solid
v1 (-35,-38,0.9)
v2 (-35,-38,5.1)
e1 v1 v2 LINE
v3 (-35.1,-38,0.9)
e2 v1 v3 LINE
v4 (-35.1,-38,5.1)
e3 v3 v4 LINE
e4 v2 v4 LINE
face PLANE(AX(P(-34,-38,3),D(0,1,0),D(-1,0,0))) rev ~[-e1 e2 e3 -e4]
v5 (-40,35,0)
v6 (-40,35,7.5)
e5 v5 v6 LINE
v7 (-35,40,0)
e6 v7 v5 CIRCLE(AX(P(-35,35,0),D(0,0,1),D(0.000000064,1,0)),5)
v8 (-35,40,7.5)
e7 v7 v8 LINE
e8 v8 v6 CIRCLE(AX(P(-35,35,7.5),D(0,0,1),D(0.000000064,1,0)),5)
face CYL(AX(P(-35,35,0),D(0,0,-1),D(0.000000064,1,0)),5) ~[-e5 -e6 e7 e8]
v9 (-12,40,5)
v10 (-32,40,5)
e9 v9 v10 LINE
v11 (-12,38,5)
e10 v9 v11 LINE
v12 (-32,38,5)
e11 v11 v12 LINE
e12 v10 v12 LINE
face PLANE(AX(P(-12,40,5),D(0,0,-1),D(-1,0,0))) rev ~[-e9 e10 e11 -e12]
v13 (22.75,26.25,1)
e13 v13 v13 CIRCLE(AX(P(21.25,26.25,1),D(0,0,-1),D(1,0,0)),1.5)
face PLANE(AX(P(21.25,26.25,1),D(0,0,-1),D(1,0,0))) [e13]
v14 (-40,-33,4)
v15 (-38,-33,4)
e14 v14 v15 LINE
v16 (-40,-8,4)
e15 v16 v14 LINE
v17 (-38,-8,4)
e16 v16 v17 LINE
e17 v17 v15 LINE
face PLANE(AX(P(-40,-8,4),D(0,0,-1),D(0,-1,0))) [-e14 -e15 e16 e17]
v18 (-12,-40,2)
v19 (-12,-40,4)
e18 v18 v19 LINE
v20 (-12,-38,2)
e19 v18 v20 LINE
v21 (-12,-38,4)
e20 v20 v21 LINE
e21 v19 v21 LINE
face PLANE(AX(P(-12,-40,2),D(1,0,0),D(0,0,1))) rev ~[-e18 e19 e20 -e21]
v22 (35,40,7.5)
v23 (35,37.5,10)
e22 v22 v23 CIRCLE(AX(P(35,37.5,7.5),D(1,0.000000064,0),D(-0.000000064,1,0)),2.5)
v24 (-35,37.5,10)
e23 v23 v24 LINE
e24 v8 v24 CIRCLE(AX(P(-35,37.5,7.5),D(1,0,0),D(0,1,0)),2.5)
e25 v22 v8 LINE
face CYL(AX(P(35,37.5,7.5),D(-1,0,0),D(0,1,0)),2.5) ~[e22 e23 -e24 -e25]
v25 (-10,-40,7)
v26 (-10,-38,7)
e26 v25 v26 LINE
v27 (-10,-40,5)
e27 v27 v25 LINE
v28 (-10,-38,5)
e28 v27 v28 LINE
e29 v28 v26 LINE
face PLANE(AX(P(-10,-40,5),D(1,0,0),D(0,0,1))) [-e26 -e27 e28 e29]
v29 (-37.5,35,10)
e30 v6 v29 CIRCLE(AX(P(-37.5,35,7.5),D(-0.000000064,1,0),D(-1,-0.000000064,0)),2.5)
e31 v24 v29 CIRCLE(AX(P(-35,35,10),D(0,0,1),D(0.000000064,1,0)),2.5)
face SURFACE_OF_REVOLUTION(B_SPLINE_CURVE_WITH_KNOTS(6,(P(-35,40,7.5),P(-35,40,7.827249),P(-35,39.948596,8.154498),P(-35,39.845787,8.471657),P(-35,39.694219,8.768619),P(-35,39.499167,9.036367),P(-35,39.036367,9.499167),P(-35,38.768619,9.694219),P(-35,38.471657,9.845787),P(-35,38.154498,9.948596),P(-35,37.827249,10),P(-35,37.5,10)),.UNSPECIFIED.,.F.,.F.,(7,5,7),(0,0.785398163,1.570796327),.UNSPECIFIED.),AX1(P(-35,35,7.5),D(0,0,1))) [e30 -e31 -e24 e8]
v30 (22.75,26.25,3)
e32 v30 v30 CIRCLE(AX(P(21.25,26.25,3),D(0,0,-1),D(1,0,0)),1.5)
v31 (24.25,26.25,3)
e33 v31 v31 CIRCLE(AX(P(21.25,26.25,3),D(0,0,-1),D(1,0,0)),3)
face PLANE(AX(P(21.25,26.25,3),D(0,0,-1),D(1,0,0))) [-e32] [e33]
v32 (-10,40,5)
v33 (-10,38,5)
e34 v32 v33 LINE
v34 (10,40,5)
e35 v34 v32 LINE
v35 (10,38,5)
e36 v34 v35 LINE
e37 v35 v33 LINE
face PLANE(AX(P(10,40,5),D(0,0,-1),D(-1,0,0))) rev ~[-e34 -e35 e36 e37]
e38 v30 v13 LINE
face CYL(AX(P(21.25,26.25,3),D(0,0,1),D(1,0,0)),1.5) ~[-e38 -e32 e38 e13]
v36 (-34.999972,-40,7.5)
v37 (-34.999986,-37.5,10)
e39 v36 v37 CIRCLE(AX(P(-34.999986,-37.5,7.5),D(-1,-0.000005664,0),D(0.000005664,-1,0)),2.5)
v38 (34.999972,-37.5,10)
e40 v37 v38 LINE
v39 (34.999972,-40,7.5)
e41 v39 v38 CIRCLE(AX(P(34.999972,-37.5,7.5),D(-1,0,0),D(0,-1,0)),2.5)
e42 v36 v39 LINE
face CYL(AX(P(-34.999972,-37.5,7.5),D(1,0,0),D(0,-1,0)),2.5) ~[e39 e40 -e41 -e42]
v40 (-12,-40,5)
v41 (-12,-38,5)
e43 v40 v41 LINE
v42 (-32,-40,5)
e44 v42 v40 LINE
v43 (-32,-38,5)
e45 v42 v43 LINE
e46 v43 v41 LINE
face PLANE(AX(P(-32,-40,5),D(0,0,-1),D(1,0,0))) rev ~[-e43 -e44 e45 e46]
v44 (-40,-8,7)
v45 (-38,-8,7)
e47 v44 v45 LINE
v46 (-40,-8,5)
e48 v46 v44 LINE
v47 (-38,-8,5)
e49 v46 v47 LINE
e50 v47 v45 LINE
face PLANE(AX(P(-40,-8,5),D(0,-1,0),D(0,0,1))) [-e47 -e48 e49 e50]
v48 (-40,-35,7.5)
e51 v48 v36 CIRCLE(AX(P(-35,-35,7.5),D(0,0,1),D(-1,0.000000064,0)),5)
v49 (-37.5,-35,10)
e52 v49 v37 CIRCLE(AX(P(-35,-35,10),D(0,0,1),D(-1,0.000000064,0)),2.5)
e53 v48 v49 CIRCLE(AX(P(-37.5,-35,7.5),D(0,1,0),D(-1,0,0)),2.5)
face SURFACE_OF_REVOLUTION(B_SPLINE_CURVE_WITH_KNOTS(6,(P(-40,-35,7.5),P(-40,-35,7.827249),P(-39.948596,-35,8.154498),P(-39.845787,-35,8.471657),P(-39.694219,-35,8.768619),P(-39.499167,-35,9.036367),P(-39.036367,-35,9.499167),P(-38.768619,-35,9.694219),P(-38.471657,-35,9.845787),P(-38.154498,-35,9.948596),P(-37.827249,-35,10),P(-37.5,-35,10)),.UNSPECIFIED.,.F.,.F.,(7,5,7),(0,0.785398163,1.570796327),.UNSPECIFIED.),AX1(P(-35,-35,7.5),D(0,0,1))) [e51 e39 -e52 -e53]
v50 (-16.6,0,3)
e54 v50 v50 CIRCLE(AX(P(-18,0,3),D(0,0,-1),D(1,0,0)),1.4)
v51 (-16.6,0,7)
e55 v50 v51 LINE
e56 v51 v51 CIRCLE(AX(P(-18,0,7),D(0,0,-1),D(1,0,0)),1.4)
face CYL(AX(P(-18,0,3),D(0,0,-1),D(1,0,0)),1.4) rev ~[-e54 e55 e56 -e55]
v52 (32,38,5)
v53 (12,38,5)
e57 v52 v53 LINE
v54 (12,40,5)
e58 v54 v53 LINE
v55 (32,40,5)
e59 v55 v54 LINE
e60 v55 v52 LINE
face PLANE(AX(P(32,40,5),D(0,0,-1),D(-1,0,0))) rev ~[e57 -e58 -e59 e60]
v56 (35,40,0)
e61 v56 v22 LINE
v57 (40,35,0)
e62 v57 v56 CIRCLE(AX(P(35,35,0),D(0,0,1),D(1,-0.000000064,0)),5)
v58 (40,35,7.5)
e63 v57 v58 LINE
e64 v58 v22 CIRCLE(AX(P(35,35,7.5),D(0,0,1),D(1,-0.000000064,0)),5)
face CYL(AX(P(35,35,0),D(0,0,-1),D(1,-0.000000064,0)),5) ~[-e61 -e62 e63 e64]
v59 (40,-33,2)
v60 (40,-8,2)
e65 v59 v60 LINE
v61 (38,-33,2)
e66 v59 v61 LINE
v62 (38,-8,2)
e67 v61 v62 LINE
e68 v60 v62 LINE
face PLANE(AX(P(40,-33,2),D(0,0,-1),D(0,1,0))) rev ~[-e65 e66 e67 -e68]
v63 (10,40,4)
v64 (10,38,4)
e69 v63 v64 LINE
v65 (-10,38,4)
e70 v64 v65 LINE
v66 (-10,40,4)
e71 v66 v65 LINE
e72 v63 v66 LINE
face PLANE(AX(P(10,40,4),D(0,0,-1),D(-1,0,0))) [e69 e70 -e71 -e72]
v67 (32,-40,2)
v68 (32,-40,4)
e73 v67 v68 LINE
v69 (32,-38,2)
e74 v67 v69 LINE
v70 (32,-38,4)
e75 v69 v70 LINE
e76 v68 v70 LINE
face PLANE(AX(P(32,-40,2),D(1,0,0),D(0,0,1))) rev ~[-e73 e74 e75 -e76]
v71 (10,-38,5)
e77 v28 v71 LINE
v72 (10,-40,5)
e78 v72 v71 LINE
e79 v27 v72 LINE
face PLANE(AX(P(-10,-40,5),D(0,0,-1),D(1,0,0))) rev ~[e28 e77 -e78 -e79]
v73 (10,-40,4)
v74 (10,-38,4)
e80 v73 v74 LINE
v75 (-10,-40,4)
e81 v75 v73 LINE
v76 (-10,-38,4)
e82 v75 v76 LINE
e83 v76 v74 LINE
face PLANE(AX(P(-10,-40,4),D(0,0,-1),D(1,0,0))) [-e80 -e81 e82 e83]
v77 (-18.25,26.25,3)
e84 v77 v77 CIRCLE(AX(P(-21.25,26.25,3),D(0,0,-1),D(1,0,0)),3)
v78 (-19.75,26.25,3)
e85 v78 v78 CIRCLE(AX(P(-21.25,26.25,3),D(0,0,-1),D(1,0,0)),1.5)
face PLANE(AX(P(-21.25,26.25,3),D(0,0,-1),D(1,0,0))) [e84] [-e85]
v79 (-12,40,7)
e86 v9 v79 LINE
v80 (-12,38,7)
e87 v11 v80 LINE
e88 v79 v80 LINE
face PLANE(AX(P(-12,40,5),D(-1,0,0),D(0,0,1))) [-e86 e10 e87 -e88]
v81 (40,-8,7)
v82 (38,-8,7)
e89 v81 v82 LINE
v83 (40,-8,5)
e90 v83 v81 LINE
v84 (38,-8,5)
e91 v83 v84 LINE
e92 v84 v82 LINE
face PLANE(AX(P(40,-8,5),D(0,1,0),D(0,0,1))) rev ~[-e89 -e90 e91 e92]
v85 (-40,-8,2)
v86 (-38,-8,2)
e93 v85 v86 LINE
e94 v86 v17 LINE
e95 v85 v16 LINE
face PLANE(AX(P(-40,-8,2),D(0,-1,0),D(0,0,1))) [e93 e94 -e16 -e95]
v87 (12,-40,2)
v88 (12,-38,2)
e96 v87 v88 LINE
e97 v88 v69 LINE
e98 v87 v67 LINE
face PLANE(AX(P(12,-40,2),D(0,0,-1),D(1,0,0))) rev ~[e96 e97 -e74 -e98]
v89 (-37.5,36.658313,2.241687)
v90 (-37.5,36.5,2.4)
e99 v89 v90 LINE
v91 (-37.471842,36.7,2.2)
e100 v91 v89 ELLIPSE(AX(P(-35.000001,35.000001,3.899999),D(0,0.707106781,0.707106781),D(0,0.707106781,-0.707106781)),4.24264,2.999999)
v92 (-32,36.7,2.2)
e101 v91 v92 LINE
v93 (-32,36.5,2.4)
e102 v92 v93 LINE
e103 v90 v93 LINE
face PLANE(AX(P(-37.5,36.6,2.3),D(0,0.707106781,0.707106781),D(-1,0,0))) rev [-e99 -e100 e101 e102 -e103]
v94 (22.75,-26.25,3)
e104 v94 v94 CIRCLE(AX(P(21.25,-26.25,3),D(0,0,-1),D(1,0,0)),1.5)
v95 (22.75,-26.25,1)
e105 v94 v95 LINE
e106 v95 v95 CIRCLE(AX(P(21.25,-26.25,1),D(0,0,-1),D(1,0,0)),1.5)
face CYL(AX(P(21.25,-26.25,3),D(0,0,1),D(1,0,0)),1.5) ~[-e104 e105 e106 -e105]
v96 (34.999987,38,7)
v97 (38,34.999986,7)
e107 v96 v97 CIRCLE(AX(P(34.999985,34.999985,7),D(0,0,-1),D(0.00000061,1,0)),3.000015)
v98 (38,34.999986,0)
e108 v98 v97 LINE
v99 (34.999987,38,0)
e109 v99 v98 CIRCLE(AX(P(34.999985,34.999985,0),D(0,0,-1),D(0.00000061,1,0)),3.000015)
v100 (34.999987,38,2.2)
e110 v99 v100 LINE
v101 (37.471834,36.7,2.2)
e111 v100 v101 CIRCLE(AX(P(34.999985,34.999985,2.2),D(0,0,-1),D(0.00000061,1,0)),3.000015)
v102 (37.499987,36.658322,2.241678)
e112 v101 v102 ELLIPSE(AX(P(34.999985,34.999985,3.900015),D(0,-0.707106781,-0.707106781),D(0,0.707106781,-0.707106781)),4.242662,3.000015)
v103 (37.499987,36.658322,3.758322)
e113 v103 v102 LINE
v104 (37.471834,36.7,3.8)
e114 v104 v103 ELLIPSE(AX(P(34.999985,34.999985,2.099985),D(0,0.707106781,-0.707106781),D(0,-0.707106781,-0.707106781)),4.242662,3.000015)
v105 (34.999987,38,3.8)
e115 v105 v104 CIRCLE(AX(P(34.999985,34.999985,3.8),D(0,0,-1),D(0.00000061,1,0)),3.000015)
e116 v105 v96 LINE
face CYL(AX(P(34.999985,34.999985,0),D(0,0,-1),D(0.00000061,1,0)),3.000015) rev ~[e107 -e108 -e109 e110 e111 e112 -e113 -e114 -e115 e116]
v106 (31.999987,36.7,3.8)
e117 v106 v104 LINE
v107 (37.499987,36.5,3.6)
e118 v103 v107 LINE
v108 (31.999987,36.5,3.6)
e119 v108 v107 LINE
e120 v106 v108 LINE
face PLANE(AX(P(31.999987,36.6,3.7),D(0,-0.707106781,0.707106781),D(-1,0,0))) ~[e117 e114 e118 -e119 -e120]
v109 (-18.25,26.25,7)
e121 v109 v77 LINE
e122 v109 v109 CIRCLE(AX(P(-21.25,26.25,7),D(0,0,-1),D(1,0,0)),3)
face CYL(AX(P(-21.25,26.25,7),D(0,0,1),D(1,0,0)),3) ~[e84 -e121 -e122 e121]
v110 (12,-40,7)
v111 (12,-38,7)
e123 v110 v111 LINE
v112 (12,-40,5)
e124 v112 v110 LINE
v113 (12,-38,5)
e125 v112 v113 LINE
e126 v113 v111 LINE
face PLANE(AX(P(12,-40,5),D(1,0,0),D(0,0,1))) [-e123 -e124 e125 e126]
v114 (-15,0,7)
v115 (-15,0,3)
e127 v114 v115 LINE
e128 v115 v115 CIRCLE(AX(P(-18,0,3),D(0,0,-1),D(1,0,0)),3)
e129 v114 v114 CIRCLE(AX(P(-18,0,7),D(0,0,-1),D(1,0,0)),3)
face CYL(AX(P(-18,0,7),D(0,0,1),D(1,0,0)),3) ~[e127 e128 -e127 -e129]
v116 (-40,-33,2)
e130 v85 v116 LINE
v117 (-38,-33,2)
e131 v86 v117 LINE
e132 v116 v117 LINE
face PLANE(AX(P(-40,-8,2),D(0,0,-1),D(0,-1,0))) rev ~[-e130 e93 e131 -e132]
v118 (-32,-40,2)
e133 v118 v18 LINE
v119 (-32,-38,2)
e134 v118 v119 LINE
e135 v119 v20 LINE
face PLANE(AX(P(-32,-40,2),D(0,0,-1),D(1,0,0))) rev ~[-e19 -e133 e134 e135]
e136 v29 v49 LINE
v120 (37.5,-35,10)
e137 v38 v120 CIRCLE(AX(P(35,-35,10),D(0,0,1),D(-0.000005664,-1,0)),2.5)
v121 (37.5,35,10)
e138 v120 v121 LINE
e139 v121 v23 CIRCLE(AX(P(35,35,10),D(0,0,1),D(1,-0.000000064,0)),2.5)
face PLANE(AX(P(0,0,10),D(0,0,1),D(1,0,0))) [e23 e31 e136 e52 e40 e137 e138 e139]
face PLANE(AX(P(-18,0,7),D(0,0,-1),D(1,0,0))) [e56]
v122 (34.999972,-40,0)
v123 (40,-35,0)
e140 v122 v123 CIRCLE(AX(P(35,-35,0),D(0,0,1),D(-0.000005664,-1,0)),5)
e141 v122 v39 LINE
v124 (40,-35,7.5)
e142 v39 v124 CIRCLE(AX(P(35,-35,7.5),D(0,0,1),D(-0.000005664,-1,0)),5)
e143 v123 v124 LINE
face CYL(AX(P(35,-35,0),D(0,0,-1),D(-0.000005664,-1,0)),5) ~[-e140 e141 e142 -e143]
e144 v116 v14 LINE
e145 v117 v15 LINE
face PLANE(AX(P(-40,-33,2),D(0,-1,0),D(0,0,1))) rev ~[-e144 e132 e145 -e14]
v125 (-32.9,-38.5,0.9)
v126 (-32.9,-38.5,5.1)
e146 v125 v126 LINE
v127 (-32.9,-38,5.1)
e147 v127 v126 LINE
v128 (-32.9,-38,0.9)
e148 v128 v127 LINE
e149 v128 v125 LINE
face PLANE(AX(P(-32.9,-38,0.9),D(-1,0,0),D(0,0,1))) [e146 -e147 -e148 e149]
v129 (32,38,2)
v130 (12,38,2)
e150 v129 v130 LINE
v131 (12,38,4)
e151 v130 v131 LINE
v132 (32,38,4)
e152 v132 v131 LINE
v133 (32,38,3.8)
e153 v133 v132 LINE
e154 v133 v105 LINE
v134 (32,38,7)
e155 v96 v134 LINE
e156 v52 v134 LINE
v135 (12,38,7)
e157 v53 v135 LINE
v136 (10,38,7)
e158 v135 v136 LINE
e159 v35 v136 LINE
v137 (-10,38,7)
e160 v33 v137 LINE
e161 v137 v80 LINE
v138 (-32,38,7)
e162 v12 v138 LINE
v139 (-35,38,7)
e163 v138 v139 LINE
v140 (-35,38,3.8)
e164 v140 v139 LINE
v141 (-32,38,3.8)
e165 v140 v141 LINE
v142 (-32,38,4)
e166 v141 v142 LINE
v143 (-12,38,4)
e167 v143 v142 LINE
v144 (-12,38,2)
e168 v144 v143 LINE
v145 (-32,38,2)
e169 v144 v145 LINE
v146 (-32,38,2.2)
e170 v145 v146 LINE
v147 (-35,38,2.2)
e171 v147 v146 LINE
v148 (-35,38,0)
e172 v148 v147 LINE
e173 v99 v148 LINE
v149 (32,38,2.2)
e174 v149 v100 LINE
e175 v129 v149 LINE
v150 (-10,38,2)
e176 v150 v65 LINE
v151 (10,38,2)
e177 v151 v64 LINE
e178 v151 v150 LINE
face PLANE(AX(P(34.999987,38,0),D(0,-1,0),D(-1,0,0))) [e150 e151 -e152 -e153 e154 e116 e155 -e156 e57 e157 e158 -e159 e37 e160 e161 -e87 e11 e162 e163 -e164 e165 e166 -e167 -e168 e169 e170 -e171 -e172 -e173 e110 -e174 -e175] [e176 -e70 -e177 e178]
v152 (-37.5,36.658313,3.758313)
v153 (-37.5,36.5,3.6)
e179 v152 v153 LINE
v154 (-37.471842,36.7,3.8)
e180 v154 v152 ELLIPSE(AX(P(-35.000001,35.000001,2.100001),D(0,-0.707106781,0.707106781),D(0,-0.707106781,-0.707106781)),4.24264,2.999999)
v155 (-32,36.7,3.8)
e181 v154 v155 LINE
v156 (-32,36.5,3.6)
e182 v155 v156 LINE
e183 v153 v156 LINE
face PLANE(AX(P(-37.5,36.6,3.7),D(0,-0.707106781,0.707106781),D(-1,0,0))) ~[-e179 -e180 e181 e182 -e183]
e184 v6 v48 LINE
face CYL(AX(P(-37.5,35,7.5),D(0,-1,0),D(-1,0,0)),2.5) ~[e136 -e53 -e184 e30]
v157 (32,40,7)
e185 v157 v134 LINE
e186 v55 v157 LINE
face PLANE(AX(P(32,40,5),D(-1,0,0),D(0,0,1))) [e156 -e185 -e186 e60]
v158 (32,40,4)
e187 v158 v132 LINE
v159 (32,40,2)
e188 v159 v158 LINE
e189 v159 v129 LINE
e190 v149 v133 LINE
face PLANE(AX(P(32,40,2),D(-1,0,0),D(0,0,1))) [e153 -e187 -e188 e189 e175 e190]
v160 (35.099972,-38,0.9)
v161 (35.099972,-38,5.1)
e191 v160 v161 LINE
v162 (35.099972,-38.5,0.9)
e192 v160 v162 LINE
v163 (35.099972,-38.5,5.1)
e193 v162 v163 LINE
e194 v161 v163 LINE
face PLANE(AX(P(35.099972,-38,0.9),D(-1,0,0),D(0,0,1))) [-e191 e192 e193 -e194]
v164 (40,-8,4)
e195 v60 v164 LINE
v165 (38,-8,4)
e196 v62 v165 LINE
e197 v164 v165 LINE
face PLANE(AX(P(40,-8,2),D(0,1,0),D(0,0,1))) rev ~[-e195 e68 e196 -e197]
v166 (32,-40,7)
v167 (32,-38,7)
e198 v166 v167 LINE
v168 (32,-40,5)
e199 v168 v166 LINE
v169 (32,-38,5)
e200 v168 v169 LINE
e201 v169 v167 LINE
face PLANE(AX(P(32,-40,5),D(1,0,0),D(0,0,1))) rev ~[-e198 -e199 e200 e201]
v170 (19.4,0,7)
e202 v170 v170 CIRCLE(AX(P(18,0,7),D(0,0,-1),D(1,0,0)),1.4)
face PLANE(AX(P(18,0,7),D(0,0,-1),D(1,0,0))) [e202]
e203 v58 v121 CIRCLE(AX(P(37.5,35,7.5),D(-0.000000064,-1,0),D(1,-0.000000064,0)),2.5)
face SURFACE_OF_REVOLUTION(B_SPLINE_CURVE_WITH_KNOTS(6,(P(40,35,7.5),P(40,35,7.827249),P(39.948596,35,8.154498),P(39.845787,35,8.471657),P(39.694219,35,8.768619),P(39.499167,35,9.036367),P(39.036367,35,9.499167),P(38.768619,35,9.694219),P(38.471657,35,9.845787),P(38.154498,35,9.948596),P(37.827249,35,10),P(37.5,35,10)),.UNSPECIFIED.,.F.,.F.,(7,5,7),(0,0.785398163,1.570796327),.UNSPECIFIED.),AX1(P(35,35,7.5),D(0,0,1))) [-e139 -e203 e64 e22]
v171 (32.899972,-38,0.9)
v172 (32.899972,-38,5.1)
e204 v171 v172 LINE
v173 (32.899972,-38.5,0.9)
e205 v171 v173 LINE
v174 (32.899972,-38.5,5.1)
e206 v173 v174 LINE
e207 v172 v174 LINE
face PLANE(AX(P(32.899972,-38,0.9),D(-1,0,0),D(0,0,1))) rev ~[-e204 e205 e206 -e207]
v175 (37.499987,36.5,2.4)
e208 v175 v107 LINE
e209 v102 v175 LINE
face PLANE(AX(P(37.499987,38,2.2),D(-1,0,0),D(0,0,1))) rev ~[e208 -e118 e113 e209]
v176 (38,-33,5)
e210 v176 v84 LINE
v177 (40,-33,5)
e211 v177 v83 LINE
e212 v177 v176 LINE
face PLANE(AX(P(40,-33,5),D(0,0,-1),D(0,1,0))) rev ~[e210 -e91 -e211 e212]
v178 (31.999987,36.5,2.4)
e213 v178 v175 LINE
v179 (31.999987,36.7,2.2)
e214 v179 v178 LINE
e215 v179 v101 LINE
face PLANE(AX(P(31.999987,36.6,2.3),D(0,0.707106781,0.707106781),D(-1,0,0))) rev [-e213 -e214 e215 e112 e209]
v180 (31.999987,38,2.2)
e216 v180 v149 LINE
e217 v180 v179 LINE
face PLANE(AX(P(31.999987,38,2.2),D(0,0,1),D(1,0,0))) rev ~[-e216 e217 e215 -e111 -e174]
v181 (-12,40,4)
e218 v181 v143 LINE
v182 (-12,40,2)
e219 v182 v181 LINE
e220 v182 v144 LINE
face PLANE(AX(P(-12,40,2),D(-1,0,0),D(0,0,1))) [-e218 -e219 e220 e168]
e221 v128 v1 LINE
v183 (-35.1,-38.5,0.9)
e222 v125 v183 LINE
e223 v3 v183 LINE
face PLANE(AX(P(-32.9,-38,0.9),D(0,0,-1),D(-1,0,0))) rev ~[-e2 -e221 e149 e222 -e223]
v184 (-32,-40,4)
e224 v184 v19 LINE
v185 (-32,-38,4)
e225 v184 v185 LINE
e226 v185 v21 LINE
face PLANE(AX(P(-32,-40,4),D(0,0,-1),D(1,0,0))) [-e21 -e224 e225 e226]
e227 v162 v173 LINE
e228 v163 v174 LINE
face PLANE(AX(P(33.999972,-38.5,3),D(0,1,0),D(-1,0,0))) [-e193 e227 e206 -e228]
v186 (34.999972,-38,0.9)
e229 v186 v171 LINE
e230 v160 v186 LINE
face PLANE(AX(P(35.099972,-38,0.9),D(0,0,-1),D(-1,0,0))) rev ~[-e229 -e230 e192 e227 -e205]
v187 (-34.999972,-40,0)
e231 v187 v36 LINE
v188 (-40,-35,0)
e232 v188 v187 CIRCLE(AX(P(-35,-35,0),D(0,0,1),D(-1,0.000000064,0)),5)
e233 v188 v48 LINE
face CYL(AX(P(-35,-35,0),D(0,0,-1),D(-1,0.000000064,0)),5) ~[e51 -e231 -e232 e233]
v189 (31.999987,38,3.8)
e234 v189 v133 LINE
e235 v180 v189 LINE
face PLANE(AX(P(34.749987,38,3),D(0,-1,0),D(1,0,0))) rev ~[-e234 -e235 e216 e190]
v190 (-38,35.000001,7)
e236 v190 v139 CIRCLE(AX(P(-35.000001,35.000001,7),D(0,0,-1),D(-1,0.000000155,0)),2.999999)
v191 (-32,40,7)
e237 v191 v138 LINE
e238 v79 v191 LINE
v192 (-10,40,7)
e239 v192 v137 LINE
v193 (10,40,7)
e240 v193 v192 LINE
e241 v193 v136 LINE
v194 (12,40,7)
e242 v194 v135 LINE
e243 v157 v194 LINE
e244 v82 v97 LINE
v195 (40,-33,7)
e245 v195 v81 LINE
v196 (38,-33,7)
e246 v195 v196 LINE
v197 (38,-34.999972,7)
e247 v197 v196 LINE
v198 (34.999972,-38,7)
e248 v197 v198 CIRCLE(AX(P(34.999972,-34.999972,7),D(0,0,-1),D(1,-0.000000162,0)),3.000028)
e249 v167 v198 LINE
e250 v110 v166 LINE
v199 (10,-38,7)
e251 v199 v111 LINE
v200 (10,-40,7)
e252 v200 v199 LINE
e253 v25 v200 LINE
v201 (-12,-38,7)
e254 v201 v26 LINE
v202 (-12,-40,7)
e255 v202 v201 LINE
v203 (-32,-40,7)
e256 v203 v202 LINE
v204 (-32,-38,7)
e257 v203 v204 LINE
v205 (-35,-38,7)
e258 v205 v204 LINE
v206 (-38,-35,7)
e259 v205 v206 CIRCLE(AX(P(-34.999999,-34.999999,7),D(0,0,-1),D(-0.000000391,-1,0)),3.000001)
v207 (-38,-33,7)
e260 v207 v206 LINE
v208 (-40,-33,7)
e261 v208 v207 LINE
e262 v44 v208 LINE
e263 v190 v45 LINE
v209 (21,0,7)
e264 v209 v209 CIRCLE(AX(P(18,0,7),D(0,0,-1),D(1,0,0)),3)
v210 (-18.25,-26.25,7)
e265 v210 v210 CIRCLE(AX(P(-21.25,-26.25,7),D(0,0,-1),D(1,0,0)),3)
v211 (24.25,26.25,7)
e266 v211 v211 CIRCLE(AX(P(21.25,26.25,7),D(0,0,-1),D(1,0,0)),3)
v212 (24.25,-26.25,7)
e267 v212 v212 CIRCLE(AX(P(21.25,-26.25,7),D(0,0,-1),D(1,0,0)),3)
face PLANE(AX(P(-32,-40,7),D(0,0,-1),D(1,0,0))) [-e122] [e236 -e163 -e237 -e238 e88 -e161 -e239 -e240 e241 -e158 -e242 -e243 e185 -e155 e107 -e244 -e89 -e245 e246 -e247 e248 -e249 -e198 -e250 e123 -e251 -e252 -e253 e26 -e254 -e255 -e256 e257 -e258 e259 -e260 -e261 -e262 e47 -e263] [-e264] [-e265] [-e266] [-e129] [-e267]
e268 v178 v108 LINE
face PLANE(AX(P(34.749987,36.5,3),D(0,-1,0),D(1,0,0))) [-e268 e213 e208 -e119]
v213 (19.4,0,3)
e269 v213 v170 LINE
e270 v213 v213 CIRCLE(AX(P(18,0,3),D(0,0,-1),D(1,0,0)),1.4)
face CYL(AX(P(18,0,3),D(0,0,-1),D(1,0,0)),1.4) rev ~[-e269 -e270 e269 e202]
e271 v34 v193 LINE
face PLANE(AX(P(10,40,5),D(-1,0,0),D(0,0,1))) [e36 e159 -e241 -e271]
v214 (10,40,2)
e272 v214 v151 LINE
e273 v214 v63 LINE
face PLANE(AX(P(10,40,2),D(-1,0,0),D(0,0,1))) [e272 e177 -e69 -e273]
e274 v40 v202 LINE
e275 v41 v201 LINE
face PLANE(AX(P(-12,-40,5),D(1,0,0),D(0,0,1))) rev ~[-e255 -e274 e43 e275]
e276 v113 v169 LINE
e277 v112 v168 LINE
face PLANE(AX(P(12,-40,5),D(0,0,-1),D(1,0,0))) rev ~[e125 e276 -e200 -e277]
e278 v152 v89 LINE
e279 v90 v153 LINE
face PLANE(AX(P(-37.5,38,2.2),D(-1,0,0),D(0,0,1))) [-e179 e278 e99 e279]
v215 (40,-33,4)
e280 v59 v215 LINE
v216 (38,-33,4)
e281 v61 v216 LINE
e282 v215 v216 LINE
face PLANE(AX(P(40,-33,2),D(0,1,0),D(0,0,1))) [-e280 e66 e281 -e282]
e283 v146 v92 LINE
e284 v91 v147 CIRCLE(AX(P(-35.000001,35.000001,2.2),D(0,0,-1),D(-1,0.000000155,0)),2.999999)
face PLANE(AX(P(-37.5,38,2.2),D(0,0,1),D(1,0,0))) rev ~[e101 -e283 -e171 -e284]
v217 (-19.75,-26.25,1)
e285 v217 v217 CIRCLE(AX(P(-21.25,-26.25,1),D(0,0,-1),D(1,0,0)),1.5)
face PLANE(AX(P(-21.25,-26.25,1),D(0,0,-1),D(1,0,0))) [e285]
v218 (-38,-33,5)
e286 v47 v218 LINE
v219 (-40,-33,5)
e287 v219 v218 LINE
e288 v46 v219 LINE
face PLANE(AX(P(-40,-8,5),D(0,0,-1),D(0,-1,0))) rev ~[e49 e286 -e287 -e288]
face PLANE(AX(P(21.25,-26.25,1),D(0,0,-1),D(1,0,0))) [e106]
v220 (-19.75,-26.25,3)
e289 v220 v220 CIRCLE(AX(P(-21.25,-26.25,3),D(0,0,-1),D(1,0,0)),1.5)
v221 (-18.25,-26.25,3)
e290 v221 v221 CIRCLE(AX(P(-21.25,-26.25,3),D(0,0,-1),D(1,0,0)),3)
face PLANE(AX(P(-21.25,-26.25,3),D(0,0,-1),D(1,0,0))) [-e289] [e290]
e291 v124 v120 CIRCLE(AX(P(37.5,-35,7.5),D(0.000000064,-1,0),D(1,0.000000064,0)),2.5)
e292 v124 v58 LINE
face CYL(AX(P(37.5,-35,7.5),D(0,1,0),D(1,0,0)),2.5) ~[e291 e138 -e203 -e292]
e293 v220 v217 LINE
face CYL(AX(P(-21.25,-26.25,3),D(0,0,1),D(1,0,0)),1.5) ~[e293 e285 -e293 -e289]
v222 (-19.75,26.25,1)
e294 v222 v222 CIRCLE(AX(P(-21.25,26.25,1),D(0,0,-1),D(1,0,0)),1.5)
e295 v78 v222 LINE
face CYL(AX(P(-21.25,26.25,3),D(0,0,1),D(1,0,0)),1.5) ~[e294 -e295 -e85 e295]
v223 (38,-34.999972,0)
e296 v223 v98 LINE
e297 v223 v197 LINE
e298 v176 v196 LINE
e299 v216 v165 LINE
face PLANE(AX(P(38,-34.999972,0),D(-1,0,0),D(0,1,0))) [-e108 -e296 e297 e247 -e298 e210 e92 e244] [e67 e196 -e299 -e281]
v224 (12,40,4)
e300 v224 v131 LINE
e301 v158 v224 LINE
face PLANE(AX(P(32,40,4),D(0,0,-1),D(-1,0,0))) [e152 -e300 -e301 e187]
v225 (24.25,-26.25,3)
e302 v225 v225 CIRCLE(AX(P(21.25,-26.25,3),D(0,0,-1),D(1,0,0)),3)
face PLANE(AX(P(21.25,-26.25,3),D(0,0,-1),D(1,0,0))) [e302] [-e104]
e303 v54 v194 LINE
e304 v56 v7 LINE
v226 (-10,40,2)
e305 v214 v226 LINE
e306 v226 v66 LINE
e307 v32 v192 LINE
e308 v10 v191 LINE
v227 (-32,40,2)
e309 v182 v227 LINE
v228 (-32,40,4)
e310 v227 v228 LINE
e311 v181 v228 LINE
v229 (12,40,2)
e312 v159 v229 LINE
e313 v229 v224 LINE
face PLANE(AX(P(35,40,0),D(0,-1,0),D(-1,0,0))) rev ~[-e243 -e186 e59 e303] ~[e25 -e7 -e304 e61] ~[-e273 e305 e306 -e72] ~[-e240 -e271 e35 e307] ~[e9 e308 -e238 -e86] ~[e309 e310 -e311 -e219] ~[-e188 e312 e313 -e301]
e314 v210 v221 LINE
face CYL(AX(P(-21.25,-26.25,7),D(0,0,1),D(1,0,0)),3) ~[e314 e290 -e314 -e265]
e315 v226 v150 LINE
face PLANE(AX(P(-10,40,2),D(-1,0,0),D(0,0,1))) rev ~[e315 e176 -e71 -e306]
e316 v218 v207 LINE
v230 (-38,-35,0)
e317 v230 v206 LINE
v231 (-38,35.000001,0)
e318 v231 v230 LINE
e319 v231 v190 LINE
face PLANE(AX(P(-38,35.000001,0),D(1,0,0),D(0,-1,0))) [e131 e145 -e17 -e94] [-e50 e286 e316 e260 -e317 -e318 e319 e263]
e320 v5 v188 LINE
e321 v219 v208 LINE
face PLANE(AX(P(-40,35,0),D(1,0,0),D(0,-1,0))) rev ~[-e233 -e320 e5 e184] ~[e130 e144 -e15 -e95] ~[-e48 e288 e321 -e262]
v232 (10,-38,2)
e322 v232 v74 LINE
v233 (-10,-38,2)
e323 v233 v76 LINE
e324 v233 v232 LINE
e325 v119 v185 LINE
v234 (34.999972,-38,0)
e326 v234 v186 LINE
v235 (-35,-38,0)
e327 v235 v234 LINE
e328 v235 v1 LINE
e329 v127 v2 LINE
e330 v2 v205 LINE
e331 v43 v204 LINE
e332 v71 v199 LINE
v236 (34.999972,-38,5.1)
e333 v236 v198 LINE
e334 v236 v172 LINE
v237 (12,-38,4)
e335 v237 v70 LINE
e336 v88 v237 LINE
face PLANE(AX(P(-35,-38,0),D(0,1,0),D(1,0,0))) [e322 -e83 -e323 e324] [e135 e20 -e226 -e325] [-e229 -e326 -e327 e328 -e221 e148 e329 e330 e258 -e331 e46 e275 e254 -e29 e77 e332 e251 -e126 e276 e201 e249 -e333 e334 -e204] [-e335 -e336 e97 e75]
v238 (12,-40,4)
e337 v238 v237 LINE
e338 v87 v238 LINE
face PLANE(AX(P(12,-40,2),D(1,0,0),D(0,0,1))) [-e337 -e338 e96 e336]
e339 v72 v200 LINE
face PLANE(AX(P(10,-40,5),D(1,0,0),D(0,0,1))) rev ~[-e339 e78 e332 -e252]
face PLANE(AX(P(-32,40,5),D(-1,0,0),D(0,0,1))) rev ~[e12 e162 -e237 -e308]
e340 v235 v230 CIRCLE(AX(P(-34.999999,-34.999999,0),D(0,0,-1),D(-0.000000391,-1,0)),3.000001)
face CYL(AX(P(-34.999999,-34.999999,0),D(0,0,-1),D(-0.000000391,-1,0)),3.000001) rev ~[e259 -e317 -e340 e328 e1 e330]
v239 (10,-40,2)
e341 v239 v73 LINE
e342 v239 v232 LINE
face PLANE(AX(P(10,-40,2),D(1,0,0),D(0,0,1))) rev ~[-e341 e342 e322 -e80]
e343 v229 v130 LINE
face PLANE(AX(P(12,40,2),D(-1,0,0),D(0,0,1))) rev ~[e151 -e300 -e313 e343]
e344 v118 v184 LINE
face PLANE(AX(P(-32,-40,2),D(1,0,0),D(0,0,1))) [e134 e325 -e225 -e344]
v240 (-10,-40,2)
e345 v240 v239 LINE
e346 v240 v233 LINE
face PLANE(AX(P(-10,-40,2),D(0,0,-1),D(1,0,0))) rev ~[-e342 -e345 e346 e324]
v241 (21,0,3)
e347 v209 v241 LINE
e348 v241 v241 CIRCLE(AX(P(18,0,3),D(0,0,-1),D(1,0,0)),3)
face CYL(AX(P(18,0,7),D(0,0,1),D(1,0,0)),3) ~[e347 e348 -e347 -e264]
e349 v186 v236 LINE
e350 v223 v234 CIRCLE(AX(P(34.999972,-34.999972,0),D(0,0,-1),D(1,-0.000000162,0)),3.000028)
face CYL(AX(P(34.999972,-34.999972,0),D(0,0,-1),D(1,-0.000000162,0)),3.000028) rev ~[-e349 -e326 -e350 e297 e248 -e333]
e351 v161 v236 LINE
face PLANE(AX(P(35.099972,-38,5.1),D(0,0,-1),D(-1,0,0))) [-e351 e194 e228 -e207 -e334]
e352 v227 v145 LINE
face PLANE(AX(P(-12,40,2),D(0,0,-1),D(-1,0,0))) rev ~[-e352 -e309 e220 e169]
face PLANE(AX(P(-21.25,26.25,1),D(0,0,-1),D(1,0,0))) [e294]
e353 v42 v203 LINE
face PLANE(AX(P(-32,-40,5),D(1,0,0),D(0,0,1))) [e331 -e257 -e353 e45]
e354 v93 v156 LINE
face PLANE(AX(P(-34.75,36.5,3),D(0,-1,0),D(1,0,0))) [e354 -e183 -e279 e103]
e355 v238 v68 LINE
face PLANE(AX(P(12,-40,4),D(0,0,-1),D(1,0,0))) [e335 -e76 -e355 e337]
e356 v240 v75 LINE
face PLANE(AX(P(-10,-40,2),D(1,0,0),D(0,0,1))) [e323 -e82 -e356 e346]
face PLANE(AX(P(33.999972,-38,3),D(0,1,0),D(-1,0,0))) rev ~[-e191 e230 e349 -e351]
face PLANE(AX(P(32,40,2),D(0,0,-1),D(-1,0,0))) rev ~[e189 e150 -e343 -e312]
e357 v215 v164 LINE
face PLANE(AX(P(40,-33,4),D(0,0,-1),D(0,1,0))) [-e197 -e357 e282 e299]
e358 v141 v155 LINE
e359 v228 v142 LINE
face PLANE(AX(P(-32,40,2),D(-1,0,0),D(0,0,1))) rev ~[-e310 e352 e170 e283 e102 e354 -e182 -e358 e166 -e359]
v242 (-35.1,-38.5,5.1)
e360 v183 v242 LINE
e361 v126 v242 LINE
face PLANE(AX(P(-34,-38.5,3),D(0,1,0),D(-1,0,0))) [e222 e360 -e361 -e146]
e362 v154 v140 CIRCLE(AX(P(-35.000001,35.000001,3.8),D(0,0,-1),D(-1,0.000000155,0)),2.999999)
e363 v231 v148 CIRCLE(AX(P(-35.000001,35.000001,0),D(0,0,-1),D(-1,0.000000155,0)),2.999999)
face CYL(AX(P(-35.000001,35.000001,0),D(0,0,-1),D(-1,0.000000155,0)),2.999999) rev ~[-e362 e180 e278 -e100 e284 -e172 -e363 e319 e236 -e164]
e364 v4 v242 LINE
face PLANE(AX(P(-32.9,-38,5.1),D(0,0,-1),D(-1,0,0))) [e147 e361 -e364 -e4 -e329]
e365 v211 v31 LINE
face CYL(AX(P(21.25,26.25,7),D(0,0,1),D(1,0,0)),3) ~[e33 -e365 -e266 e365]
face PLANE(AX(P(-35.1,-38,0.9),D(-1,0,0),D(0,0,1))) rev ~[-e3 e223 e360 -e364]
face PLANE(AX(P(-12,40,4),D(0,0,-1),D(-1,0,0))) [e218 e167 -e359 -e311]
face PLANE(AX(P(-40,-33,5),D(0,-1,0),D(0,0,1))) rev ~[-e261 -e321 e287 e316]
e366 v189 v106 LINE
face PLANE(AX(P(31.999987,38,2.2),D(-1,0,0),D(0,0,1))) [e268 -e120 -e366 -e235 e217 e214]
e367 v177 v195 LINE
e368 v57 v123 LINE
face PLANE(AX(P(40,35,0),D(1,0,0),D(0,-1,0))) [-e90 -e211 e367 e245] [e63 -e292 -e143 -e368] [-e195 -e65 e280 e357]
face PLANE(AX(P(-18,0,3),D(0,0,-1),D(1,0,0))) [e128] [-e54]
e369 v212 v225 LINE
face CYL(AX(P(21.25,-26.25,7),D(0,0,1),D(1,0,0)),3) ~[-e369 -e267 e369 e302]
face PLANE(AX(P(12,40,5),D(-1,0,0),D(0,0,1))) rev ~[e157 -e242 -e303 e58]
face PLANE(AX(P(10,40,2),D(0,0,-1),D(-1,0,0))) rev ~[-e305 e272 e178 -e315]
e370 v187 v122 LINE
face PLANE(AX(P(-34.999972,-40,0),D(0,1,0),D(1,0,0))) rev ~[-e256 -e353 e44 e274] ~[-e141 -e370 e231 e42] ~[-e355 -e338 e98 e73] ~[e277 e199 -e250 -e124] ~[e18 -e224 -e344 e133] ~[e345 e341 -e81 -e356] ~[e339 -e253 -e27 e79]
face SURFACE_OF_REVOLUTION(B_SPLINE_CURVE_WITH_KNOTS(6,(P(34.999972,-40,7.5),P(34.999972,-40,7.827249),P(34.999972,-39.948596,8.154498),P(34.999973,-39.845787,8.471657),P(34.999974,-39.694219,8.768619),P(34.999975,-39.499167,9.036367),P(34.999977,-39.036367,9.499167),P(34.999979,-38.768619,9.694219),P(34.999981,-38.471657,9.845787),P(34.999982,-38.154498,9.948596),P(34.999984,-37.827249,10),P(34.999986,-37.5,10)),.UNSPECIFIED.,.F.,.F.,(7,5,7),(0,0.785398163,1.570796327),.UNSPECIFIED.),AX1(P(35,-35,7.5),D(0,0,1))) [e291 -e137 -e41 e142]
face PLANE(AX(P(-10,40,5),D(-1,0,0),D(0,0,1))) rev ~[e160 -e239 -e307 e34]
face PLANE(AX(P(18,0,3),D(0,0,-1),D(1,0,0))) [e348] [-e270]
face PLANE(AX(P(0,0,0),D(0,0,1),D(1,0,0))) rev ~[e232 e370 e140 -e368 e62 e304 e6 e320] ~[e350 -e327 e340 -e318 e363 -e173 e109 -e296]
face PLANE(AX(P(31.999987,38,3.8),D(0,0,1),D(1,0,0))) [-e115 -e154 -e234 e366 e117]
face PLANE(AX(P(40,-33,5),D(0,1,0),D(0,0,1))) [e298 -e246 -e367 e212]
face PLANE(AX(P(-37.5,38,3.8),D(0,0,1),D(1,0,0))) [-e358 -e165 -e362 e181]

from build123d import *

# Parameters (mm, degrees)
PAD_DEPTH       = 10
FILLET_R        = 2.5
SKETCH002_W     = 20
SKETCH002_H     = 2
POCKET_DEPTH    = 2
POCKET001_DEPTH = 7
SKETCH013_R     = 3
PAD007_DEPTH    = 4
SKETCH014_R     = 1.5
PAD008_DEPTH    = 2
SKETCH015_W     = 25
SKETCH015_H     = 2
POCKET004_DEPTH = 2
SKETCH016_W     = 25
SKETCH016_H     = 2
POCKET005_DEPTH = 2
SKETCH017_W     = 20
SKETCH017_H     = 2
POCKET006_DEPTH = 2
SKETCH018_R     = 1.4
POCKET007_DEPTH = 4
SKETCH023_W     = 5.5
SKETCH023_H     = 1.6
PAD011_DEPTH    = 1.5
CHAMFER001_SIZE = 0.2
SKETCH024_W     = 2.2
SKETCH024_H     = 4.2
POCKET011_DEPTH = 0.5


with BuildPart() as part:
    # Sketch → Pad (new body)
    with BuildSketch(Plane.XY):
        with BuildLine():
            Line((-34.999972, -40), (34.999972, -40))
            ThreePointArc((34.999972, -40), (38.535524, -38.535544), (40, -35))
            Line((40, 35), (40, -35))
            ThreePointArc((40, 35), (38.535534, 38.535534), (35, 40))
            Line((35, 40), (-35, 40))
            ThreePointArc((-35, 40), (-38.535534, 38.535534), (-40, 35))
            Line((-40, 35), (-40, -35))
            ThreePointArc((-40, -35), (-38.535524, -38.535544), (-34.999972, -40))
        make_face()
    extrude(amount=PAD_DEPTH)

    # Fillet
    fillet_edges = [part.edges().sort_by_distance(p)[0] for p in [
        (38.535534, 38.535534, 10),
        (0, 40, 10),
        (-38.535534, 38.535534, 10),
        (-40, 0, 10),
        (-38.535524, -38.535544, 10),
        (0, -40, 10),
        (38.535524, -38.535544, 10),
        (40, 0, 10),
    ]]
    fillet(fillet_edges, radius=FILLET_R)

    # Sketch002 → Pocket (cut)
    with BuildSketch(Plane.XZ.offset(40)):
        with Locations((0, 3)):
            Rectangle(SKETCH002_W, SKETCH002_H)
        with Locations((0, 6)):
            Rectangle(SKETCH002_W, SKETCH002_H)
        with Locations((-22, 3)):
            Rectangle(SKETCH002_W, SKETCH002_H)
        with Locations((-22, 6)):
            Rectangle(SKETCH002_W, SKETCH002_H)
        with Locations((22, 6)):
            Rectangle(SKETCH002_W, SKETCH002_H)
        with Locations((22, 3)):
            Rectangle(SKETCH002_W, SKETCH002_H)
    extrude(amount=-POCKET_DEPTH, mode=Mode.SUBTRACT)

    # Sketch003 → Pocket001 (cut)
    with BuildSketch(Plane(origin=(0, 0, 0), x_dir=(1, 0, 0), z_dir=(0, 0, -1))):
        with BuildLine():
            ThreePointArc((38, 34.999972), (37.121312, 37.121312), (34.999972, 38))
            Line((-35, 38), (34.999972, 38))
            ThreePointArc((-35, 38), (-37.12132, 37.12132), (-38, 35))
            Line((-38, -35.000001), (-38, 35))
            ThreePointArc((-38, -35.000001), (-37.12132, -37.121321), (-35, -38))
            Line((34.999987, -38), (-35, -38))
            ThreePointArc((34.999987, -38), (37.121316, -37.121316), (38, -34.999986))
            Line((38, 34.999972), (38, -34.999986))
        make_face()
    extrude(amount=-POCKET001_DEPTH, mode=Mode.SUBTRACT)

    # Sketch013 → Pad007 (new body)
    with BuildSketch(Plane(origin=(0, 0, 7), x_dir=(1, 0, 0), z_dir=(0, 0, -1))):
        with Locations((-21.25, 26.25)):
            Circle(SKETCH013_R)
        with Locations((21.25, 26.25)):
            Circle(SKETCH013_R)
        with Locations((-21.25, -26.25)):
            Circle(SKETCH013_R)
        with Locations((21.25, -26.25)):
            Circle(SKETCH013_R)
        with Locations((-18, 0)):
            Circle(SKETCH013_R)
        with Locations((18, 0)):
            Circle(SKETCH013_R)
    extrude(amount=PAD007_DEPTH)

    # Sketch014 → Pad008 (new body)
    with BuildSketch(Plane(origin=(0, 0, 3), x_dir=(1, 0, 0), z_dir=(0, 0, -1))):
        with Locations((-21.25, 26.25)):
            Circle(SKETCH014_R)
        with Locations((21.25, 26.25)):
            Circle(SKETCH014_R)
        with Locations((-21.25, -26.25)):
            Circle(SKETCH014_R)
        with Locations((21.25, -26.25)):
            Circle(SKETCH014_R)
    extrude(amount=PAD008_DEPTH)

    # Sketch015 → Pocket004 (cut)
    with BuildSketch(Plane(origin=(-40, 0, 0), x_dir=(0, -1, 0), z_dir=(-1, 0, 0))):
        with Locations((20.5, 3)):
            Rectangle(SKETCH015_W, SKETCH015_H)
        with Locations((20.5, 6)):
            Rectangle(SKETCH015_W, SKETCH015_H)
    extrude(amount=-POCKET004_DEPTH, mode=Mode.SUBTRACT)

    # Sketch016 → Pocket005 (cut)
    with BuildSketch(Plane.YZ.offset(40)):
        with Locations((-20.5, 3)):
            Rectangle(SKETCH016_W, SKETCH016_H)
        with Locations((-20.5, 6)):
            Rectangle(SKETCH016_W, SKETCH016_H)
    extrude(amount=-POCKET005_DEPTH, mode=Mode.SUBTRACT)

    # Sketch017 → Pocket006 (cut)
    with BuildSketch(Plane(origin=(0, 40, 0), x_dir=(-1, 0, 0), z_dir=(0, 1, 0))):
        with Locations((0, 3)):
            Rectangle(SKETCH017_W, SKETCH017_H)
        with Locations((0, 6)):
            Rectangle(SKETCH017_W, SKETCH017_H)
        with Locations((-22, 3)):
            Rectangle(SKETCH017_W, SKETCH017_H)
        with Locations((-22, 6)):
            Rectangle(SKETCH017_W, SKETCH017_H)
        with Locations((22, 6)):
            Rectangle(SKETCH017_W, SKETCH017_H)
        with Locations((22, 3)):
            Rectangle(SKETCH017_W, SKETCH017_H)
    extrude(amount=-POCKET006_DEPTH, mode=Mode.SUBTRACT)

    # Sketch018 → Pocket007 (cut)
    with BuildSketch(Plane(origin=(0, 0, 3), x_dir=(1, 0, 0), z_dir=(0, 0, -1))):
        with Locations((-18, 0)):
            Circle(SKETCH018_R)
        with Locations((18, 0)):
            Circle(SKETCH018_R)
    extrude(amount=-POCKET007_DEPTH, mode=Mode.SUBTRACT)

    # Sketch023 → Pad011 (new body)
    with BuildSketch(Plane.XZ.offset(-38)):
        with Locations((34.749987, 3)):
            Rectangle(SKETCH023_W, SKETCH023_H)
        with Locations((-34.75, 3)):
            Rectangle(SKETCH023_W, SKETCH023_H)
    extrude(amount=PAD011_DEPTH)

    # Chamfer001
    chamfer001_edges = [part.edges().sort_by_distance(p)[0] for p in [
        (34.749987, 36.5, 2.2),
        (-34.75, 36.5, 3.8),
        (-34.75, 36.5, 2.2),
        (34.749987, 36.5, 3.8),
    ]]
    chamfer(chamfer001_edges, length=CHAMFER001_SIZE)

    # Sketch024 → Pocket011 (cut)
    with BuildSketch(Plane(origin=(0, -38, 0), x_dir=(-1, 0, 0), z_dir=(0, 1, 0))):
        with Locations((-33.999972, 3)):
            Rectangle(SKETCH024_W, SKETCH024_H)
        with Locations((34, 3)):
            Rectangle(SKETCH024_W, SKETCH024_H)
    extrude(amount=-POCKET011_DEPTH, mode=Mode.SUBTRACT)


solid = part.part
